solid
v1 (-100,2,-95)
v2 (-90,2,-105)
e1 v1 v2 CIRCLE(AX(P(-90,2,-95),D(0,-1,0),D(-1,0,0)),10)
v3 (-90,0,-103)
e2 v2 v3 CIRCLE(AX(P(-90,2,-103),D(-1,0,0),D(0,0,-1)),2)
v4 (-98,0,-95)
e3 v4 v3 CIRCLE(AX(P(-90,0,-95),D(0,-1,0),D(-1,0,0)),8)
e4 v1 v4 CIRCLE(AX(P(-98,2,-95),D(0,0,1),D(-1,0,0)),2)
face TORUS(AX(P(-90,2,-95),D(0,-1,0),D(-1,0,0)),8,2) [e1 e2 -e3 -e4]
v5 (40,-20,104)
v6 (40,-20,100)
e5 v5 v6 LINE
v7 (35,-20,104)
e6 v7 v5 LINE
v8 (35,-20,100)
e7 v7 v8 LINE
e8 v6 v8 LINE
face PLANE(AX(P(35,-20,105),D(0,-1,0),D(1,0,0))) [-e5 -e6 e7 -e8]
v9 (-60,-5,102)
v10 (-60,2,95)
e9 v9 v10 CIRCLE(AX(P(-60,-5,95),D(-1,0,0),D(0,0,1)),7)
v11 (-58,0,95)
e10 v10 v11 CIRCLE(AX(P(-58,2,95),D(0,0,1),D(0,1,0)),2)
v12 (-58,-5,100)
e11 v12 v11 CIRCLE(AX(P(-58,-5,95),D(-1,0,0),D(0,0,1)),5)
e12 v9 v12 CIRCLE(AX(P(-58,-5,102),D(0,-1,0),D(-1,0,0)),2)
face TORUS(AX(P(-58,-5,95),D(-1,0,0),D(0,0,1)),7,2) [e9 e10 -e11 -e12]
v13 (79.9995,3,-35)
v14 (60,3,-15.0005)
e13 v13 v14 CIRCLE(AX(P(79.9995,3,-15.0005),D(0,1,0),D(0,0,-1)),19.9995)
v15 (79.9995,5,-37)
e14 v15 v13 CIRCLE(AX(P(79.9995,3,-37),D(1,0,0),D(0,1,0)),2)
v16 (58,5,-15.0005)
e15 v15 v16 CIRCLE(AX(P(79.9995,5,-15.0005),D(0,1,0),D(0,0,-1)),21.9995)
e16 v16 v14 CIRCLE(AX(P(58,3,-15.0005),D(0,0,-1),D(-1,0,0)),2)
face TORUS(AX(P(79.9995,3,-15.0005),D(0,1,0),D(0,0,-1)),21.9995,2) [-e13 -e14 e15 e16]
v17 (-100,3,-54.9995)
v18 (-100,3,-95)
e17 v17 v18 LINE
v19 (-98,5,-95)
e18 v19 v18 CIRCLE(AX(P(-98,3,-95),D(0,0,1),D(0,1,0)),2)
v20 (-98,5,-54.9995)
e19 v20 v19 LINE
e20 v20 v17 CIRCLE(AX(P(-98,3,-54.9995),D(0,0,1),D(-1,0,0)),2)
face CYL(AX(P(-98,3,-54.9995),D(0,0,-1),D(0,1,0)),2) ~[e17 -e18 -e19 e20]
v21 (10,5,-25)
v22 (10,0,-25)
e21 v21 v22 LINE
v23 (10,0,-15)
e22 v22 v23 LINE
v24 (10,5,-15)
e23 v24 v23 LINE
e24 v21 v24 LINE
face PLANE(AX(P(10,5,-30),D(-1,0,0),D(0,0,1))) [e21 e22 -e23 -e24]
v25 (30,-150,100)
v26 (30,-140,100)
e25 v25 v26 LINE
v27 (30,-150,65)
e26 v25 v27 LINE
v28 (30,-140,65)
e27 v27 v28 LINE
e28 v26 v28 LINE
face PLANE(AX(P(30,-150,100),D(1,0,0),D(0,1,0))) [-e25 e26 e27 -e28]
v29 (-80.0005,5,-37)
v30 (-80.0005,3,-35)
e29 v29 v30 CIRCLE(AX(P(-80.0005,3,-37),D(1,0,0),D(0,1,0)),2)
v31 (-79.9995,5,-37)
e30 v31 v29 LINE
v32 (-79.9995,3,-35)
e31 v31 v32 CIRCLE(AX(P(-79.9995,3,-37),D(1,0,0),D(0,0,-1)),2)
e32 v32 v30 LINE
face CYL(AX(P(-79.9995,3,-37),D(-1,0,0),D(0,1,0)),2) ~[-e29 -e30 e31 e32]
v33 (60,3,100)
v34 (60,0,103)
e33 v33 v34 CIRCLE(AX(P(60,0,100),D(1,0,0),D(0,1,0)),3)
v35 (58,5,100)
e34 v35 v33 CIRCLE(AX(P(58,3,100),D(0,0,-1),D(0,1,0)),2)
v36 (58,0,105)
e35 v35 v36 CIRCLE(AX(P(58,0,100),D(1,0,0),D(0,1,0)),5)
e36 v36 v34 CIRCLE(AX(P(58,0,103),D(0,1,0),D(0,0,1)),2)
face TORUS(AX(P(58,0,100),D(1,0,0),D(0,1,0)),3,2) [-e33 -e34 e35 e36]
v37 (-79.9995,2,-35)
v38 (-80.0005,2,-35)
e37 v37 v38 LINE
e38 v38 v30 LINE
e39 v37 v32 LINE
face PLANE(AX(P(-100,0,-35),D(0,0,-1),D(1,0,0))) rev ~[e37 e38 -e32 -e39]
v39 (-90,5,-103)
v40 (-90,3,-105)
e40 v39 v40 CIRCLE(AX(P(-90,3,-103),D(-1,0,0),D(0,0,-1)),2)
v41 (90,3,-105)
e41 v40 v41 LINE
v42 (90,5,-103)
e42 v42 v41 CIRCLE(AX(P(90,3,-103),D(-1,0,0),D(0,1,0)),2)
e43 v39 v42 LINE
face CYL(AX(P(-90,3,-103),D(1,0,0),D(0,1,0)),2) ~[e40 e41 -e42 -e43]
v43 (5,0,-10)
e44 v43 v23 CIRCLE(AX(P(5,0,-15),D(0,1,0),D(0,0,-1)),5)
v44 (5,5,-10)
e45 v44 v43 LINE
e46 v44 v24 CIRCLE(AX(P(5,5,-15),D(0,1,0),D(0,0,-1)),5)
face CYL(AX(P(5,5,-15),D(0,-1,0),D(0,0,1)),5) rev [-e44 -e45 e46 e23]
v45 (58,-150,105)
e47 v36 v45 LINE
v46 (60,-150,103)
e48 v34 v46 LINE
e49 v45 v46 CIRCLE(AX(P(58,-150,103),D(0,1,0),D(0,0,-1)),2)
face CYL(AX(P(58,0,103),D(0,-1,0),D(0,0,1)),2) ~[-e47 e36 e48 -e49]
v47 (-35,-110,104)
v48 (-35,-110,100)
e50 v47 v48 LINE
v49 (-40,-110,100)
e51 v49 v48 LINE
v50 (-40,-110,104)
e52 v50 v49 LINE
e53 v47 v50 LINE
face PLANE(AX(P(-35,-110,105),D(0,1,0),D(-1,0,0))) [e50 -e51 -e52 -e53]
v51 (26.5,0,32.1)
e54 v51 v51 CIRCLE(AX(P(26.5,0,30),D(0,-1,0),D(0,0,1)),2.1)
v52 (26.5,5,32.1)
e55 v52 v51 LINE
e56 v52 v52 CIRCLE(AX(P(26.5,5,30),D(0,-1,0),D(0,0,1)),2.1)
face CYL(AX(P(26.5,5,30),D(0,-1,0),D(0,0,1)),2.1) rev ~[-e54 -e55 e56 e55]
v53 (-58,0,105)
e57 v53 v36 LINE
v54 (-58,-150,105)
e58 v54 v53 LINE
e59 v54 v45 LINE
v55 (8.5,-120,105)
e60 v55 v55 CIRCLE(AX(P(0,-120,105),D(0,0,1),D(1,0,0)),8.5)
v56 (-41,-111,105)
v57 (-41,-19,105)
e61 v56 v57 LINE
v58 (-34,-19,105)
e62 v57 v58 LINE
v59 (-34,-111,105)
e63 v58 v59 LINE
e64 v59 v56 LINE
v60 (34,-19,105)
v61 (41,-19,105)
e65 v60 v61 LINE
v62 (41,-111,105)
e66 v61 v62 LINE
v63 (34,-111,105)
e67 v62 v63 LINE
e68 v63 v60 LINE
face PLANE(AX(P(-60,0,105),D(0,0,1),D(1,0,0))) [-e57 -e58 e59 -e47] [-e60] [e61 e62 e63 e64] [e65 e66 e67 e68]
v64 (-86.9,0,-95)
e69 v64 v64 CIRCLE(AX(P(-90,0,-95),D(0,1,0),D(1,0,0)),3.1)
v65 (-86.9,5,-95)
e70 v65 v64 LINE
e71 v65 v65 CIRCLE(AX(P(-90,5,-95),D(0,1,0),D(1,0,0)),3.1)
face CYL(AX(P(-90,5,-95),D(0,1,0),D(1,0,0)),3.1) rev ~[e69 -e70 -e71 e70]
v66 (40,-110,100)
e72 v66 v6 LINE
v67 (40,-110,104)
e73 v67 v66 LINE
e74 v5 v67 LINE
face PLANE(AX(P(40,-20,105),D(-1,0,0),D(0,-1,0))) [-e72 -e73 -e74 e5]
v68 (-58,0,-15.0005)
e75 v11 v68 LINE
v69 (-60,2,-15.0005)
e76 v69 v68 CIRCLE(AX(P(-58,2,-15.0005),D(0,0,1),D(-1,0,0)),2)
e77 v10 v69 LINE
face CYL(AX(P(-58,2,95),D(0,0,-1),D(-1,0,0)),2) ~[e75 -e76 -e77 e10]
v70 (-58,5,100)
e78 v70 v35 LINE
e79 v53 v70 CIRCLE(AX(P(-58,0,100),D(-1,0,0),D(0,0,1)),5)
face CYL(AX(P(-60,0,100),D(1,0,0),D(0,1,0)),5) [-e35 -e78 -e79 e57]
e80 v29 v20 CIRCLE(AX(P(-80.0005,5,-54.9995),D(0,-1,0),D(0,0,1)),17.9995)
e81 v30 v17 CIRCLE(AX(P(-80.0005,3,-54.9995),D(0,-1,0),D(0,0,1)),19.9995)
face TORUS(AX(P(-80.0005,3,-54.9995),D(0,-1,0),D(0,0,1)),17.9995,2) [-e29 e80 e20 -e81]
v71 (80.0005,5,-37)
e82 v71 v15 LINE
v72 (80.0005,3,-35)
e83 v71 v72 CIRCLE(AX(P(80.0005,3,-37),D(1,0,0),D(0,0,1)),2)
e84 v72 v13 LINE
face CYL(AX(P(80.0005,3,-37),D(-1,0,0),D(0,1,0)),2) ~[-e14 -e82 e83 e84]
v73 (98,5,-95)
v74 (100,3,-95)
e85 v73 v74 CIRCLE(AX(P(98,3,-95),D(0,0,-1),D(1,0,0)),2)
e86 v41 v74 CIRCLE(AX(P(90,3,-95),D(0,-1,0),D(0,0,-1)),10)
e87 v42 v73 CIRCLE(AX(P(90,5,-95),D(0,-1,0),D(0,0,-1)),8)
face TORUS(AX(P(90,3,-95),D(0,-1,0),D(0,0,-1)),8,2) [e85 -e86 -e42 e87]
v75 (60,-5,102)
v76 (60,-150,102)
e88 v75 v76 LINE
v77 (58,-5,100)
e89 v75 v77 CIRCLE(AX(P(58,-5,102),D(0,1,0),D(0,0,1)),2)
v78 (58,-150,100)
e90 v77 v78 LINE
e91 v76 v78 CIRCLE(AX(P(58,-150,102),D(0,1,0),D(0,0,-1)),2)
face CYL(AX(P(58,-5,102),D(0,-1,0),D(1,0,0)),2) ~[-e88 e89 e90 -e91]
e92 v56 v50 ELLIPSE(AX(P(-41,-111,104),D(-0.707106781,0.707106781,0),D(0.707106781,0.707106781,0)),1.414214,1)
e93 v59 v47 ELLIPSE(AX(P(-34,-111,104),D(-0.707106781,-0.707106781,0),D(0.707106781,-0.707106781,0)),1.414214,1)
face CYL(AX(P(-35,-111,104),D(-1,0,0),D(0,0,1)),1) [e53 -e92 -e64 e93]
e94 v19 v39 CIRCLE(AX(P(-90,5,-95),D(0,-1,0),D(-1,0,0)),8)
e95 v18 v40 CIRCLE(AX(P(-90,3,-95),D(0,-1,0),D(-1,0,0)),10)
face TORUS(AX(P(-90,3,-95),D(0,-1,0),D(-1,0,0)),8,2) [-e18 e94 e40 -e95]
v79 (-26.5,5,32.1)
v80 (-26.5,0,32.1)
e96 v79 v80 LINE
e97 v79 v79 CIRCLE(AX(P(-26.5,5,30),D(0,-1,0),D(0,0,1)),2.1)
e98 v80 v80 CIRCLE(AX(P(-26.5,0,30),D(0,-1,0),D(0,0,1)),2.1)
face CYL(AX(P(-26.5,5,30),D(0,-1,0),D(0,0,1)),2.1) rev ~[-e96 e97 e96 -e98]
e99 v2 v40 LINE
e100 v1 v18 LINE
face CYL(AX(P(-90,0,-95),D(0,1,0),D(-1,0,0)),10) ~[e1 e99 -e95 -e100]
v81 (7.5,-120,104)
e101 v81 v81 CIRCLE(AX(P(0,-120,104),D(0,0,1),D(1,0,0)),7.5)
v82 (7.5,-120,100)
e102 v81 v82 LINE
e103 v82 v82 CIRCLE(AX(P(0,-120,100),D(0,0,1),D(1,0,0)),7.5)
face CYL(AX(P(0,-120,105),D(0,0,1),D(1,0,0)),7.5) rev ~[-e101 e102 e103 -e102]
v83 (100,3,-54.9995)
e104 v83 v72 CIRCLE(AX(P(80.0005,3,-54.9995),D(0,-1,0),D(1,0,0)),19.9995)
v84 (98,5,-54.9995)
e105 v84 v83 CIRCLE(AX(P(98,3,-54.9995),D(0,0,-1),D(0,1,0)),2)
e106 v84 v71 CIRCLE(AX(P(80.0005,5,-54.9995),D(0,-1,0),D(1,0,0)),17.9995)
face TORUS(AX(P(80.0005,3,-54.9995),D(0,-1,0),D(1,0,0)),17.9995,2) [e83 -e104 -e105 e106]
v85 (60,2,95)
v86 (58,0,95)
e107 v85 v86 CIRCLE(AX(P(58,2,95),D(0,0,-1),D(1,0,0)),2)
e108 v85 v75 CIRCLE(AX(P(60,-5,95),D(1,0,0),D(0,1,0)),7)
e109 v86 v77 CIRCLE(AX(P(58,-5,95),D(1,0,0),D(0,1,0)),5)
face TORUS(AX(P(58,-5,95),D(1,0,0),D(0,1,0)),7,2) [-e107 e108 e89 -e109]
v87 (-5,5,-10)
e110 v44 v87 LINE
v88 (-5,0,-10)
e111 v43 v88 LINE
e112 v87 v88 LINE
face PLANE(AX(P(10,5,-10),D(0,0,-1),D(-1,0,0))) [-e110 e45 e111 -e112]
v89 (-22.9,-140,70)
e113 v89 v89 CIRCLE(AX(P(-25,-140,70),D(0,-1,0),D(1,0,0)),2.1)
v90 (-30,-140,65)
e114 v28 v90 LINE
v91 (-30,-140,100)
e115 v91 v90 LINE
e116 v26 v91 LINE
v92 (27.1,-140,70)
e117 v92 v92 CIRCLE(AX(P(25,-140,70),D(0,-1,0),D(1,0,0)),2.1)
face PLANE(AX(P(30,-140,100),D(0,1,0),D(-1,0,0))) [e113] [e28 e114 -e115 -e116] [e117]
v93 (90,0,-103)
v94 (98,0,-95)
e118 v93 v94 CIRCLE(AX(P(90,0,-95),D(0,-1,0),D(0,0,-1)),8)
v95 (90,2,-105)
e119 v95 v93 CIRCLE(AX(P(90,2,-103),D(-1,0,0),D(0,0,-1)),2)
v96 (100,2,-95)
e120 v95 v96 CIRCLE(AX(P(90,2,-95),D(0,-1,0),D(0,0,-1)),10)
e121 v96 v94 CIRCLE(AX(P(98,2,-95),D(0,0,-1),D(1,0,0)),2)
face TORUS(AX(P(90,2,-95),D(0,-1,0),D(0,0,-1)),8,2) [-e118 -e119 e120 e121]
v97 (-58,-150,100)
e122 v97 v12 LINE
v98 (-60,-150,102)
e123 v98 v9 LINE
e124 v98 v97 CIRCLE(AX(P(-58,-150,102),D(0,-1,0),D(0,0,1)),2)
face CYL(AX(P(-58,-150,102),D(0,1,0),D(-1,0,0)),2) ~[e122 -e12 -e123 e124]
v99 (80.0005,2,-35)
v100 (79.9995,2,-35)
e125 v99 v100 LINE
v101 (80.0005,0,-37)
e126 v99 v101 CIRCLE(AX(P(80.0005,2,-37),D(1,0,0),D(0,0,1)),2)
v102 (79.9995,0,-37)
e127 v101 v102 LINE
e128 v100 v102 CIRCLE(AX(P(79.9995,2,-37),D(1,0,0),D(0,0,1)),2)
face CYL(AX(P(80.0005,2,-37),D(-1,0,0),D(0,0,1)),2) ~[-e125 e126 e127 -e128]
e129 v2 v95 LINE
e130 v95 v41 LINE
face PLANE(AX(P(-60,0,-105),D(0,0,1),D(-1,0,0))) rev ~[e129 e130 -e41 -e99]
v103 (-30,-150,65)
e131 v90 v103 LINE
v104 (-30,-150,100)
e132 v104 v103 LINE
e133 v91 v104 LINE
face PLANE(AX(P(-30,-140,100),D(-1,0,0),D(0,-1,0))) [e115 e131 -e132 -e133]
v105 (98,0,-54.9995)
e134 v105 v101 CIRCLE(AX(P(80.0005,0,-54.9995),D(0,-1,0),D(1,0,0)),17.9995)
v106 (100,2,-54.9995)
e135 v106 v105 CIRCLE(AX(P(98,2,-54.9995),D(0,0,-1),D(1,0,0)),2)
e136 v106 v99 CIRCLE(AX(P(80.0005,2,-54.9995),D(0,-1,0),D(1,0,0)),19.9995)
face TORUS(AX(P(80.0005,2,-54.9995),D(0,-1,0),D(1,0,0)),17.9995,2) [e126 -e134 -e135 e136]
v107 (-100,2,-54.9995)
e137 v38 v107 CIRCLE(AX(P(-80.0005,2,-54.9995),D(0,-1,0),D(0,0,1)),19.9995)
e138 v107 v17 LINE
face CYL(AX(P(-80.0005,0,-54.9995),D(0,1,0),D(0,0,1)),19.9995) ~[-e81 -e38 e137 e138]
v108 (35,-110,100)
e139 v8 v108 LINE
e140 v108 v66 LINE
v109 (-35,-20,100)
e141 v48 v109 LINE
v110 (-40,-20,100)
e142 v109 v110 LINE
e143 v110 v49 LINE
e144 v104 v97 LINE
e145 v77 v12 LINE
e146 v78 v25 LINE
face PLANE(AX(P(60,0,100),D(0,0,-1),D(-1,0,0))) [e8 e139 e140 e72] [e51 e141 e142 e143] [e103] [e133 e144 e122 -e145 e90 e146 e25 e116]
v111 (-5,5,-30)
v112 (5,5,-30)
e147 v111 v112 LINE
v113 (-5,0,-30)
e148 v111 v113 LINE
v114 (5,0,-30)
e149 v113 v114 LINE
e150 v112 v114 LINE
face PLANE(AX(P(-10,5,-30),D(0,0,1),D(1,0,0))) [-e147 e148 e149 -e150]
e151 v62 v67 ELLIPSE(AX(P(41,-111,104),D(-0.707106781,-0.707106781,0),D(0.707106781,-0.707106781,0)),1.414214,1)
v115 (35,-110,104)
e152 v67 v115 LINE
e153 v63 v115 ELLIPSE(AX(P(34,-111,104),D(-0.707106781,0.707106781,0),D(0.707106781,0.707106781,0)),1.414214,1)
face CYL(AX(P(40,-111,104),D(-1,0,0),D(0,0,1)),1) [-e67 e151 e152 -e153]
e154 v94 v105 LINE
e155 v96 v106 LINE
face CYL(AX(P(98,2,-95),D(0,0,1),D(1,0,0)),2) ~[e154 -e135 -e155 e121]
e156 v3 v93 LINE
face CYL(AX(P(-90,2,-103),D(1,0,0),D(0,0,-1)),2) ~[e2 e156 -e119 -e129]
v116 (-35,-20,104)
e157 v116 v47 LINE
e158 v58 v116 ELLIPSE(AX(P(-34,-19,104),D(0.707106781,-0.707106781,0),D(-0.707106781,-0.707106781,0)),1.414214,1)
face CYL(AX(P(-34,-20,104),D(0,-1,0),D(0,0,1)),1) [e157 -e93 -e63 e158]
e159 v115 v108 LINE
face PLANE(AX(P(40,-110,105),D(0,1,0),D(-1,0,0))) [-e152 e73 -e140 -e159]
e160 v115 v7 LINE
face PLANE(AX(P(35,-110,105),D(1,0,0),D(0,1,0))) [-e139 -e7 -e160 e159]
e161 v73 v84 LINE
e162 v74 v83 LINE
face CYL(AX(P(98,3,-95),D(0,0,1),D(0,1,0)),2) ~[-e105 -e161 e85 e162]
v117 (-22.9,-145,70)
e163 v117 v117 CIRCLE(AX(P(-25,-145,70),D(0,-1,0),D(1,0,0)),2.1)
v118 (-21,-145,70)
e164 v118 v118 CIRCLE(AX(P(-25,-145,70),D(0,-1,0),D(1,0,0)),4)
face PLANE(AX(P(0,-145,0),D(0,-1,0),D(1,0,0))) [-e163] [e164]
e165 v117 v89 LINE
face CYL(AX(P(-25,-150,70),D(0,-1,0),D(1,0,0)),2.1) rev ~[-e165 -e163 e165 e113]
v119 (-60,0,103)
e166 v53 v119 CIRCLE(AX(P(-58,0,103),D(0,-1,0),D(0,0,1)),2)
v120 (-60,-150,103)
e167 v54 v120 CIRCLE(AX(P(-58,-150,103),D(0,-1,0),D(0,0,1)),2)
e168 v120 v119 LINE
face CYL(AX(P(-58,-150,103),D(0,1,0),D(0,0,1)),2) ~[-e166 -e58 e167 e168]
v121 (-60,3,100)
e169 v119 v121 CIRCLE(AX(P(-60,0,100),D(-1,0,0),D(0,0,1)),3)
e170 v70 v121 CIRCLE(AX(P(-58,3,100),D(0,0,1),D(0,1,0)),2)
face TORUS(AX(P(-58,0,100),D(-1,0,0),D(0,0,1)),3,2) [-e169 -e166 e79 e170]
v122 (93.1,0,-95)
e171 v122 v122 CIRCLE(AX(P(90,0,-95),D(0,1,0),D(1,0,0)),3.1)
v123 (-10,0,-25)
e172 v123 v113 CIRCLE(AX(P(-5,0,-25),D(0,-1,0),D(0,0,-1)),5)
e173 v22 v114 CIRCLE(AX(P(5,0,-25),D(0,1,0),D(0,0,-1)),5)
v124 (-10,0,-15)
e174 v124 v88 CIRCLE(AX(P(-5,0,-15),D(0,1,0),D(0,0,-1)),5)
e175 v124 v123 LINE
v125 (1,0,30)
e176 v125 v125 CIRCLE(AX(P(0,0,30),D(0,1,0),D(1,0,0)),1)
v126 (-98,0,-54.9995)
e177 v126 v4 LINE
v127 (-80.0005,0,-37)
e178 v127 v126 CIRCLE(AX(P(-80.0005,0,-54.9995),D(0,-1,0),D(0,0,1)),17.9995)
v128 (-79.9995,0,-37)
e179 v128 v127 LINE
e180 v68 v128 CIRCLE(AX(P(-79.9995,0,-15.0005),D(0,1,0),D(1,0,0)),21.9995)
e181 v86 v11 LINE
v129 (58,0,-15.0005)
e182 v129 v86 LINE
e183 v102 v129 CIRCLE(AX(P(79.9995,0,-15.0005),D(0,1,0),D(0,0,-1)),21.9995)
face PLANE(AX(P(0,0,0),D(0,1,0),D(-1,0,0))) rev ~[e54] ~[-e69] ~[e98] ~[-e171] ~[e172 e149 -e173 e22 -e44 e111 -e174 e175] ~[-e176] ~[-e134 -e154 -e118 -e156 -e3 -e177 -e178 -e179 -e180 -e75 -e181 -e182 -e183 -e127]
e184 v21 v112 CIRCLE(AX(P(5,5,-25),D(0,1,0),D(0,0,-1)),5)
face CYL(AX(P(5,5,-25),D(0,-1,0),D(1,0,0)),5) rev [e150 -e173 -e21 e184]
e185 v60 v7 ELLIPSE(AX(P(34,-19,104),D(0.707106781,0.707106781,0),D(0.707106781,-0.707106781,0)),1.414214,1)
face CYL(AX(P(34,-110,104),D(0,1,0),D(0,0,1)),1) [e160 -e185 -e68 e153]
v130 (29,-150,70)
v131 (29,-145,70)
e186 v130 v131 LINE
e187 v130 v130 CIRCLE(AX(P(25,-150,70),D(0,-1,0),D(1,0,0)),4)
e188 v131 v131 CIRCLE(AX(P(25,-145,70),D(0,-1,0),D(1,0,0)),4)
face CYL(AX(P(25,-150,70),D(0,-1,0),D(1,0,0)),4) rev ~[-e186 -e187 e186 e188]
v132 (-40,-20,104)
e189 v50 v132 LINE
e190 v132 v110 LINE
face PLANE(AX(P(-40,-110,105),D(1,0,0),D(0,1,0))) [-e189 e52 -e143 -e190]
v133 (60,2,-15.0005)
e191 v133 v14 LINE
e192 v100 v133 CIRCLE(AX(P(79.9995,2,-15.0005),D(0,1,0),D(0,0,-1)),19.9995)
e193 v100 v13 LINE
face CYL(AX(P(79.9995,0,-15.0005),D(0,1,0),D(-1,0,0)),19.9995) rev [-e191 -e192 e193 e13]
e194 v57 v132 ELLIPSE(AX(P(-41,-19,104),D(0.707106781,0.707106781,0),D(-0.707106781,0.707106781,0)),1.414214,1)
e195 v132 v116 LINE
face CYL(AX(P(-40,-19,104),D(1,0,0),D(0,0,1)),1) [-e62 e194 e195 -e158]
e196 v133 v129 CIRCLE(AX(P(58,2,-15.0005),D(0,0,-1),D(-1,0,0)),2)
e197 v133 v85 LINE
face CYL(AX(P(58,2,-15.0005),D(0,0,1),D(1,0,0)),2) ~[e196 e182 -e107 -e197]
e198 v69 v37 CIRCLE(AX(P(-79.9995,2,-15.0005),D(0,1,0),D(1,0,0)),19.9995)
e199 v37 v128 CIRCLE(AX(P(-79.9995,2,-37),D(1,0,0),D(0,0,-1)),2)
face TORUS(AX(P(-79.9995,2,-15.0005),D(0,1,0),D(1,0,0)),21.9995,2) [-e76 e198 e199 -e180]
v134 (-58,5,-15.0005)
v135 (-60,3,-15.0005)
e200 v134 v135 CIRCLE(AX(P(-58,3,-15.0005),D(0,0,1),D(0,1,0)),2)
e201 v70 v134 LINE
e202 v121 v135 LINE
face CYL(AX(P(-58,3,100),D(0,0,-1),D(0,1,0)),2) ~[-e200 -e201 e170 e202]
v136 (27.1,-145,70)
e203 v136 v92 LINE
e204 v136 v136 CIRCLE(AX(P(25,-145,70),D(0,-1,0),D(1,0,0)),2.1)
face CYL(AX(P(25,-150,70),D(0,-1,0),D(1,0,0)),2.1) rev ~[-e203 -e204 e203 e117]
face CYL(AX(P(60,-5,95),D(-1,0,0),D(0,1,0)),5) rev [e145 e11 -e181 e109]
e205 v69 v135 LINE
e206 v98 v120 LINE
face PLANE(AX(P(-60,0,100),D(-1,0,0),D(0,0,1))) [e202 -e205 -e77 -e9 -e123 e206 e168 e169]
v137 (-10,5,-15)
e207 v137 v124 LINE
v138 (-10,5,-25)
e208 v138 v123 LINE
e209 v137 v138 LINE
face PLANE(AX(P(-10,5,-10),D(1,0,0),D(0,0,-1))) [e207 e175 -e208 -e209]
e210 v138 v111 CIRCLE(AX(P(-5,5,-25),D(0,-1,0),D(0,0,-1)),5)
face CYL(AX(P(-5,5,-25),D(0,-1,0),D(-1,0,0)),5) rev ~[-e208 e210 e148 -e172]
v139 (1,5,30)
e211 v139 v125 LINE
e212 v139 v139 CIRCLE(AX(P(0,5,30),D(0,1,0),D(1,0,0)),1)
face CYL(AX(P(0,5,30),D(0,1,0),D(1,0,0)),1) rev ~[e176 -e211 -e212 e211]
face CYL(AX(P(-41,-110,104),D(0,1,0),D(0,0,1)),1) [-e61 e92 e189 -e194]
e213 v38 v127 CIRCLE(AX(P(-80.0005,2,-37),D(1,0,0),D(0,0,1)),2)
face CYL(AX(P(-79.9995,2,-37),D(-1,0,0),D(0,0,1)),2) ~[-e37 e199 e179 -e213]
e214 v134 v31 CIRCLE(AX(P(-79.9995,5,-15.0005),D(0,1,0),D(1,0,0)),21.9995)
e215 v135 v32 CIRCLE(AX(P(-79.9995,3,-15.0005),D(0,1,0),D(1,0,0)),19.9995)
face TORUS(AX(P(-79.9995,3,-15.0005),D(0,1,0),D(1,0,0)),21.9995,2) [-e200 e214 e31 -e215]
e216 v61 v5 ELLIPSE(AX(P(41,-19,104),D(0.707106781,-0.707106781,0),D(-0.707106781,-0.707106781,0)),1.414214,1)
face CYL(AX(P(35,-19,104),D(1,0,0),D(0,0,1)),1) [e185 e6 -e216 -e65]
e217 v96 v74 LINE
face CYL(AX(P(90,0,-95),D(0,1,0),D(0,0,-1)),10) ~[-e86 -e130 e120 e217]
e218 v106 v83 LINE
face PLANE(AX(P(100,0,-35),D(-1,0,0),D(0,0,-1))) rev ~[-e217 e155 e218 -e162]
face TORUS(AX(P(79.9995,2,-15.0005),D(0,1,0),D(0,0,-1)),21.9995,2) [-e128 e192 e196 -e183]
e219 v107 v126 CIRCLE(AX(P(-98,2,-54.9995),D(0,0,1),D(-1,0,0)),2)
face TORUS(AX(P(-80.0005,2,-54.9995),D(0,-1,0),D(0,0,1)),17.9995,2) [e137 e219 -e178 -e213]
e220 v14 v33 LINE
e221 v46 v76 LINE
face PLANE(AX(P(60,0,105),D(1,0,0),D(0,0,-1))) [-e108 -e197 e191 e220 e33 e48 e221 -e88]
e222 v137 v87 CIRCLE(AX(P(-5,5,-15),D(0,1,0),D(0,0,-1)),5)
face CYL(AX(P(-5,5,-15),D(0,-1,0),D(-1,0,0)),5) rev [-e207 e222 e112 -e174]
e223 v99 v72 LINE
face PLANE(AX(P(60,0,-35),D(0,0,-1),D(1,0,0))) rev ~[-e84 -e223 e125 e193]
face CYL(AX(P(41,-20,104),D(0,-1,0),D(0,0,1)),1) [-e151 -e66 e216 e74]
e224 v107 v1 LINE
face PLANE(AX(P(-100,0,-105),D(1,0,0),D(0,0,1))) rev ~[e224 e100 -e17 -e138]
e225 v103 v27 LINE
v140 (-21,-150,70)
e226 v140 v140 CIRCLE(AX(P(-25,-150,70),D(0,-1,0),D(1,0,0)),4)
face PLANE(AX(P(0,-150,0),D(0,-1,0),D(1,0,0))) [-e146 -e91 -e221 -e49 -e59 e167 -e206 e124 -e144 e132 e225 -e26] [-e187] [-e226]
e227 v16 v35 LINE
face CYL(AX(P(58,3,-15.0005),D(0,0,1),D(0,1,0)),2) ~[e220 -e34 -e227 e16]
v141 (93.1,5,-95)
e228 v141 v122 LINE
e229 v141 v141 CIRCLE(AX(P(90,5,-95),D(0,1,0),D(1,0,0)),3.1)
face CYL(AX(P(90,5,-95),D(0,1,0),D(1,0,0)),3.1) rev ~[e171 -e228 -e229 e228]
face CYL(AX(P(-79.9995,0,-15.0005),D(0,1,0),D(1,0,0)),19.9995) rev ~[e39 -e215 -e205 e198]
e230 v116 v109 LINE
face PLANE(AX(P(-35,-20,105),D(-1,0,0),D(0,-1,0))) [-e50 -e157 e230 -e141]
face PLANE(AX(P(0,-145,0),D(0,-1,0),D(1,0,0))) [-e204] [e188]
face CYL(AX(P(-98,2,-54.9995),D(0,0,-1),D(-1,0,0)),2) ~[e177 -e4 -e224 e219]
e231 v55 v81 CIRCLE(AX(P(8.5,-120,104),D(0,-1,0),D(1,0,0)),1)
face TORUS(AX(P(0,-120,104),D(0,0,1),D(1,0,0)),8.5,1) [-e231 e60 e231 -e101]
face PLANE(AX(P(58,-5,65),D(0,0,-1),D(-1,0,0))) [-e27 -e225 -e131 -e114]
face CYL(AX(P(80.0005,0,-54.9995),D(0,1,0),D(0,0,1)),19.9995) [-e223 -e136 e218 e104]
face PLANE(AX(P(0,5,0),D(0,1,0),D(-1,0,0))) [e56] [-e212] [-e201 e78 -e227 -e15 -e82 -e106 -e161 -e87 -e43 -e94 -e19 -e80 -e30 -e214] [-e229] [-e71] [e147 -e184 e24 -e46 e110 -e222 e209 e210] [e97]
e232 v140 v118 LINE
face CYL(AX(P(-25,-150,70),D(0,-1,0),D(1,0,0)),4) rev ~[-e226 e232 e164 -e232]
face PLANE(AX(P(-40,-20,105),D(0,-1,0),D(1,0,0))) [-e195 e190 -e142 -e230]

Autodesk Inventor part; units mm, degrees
ref_plane "YZ Plane" through (0, 0, 0) normal (1, 0, 0) x (0, 1, 0)
ref_plane "XZ Plane" through (0, 0, 0) normal (0, 1, 0) x (-1, 0, 0)
ref_plane "XY Plane" through (0, 0, 0) normal (0, 0, 1) x (1, 0, 0)
sketch "Sketch1" plane through (0, 0, 0) normal (0, 1, 0) x (-1, 0, 0)
  line L0 (60, 105) -> (-60, 105)
  line L1 (-60, 105) -> (-60, -105)
  line L2 (-60, -105) -> (60, -105)
  line L3 (60, -105) -> (60, 105)
  line L4 (60, 105) -> (-60, -105) construction
  line L5 (-60, 105) -> (60, -105) construction
  line L6 (100, -35) -> (-100, -35)
  line L7 (-100, -35) -> (-100, -105)
  line L8 (-100, -105) -> (100, -105)
  line L9 (100, -105) -> (100, -35)
  line L10 (100, -35) -> (-100, -105) construction
  line L11 (-100, -35) -> (100, -105) construction
  point P0 (0, 0)
  point P1 (0, -70)
  point P2 (-60, -35)
  point P3 (60, -35)
  dimension "d0" = 120
  dimension "d1" = 210
  dimension "d2" = 70
  dimension "d3" = 200
extrude "Extrusion1" add sketch "Sketch1" along normal blind 5
sketch "Sketch2" plane through (0, 5, 0) normal (0, 1, 0) x (1, 0, 0)
  circle A0 centre (-90, 95) radius 3.1
  circle A1 centre (90, 95) radius 3.1
  line L0 (100, 105) -> (-100, 105) projected
  line L1 (-100, 105) -> (-100, 35) projected
  line L2 (100, 35) -> (100, 105) projected
  point P0 (0, 0)
  dimension "d6" = 6.2
  dimension "d7" = 6.2
  dimension "d8" = 10
  dimension "d9" = 10
  dimension "d10" = 10
extrude "Extrusion2" cut sketch "Sketch2" against normal blind 5
sketch "Sketch3" plane through (0, 0, 0) normal (0, -1, 0) x (1, 0, 0)
  line L0 (-60, 105) -> (60, 105)
  line L1 (60, 105) -> (60, 100)
  line L2 (60, 100) -> (-60, 100)
  line L3 (-60, 100) -> (-60, 105)
  line L4 (-60, 105) -> (60, 100) construction
  line L5 (60, 105) -> (-60, 100) construction
  line L6 (60, 105) -> (60, -35) projected
  line L7 (-60, -35) -> (-60, 105) projected
  line L8 (-60, 105) -> (60, 105) projected
  point P0 (0, 0)
  point P1 (0, 102.5)
  dimension "d13" = 5
extrude "Extrusion3" add sketch "Sketch3" along normal blind 150
fillet "Fillet1" radius 20 4 edges at (-60, 2.5, -35) (60, 2.5, -35) (100, 2.5, -35) (-100, 2.5, -35)
fillet "Fillet2" radius 10 2 edges at (100, 2.5, -105) (-100, 2.5, -105)
fillet "Fillet3" radius 5 2 edges at (0, 0, 100) (0, 5, 105)
fillet "Fillet4" radius 2 30 edges at (60, 3.5355, 103.5355) (60, 5, 42.4997) (80, 5, -35) (94.1423, 5, -40.8577) (100, 5, -74.9998) (97.0711, 5, -102.0711) (0, 5, -105) (-97.0711, 5, -102.0711) (-100, 5, -74.9997) (-94.1423, 5, -40.8577) (-80, 5, -35) (-60, 5, 42.4998) (-60, 3.5355, 103.5355) (-60, -75, 105) (60, -75, 105) (60, -1.4645, 98.5355) (60, 0, 39.9998) (80, 0, -35) (94.1423, 0, -40.8577) (100, 0, -74.9998) (97.0711, 0, -102.0711) (0, 0, -105) (-97.0711, 0, -102.0711) (-100, 0, -74.9997) (-94.1423, 0, -40.8577) (-80, 0, -35) (-60, 0, 39.9998) (-60, -1.4645, 98.5355) (-60, -77.5, 100) (60, -77.5, 100)
sketch "Sketch4" plane through (0, 5, 0) normal (0, 1, 0) x (1, 0, 0)
  point P0 (0, 0)
  point P1 (-26.5, -30)
  point P2 (26.5, -30)
  dimension "d20" = 26.5
  dimension "d21" = 30
  dimension "d23" = 26.5
hole "Hole1" at (-26.5, 5, 30) at (26.5, 5, 30) direction (0, -1, 0) diameter 4.2 end through all
sketch "Sketch6" plane through (0, 5, 0) normal (0, 1, 0) x (1, 0, 0)
  line L0 (-10, 30) -> (10, 30)
  line L1 (10, 30) -> (10, 10)
  line L2 (10, 10) -> (-10, 10)
  line L3 (-10, 10) -> (-10, 30)
  line L4 (-10, 30) -> (10, 10) construction
  line L5 (10, 30) -> (-10, 10) construction
  point P0 (0, 0)
  point P1 (0, 20)
  dimension "d37" = 20
  dimension "d38" = 20
  dimension "d39" = 20
extrude "Extrusion5" cut sketch "Sketch6" against normal blind 150
fillet "Fillet5" radius 5 4 edges at (-10, 2.5, -30) (10, 2.5, -30) (-10, 2.5, -10) (10, 2.5, -10)
sketch "Sketch7" plane through (-58, 0, 105) normal (0, 0, 1) x (1, 0, 0)
  line L0 (18, -20) -> (23, -20)
  line L1 (23, -20) -> (23, -110)
  line L2 (23, -110) -> (18, -110)
  line L3 (18, -110) -> (18, -20)
  line L4 (93, -20) -> (98, -20)
  line L5 (98, -20) -> (98, -110)
  line L6 (98, -110) -> (93, -110)
  line L7 (93, -110) -> (93, -20)
  line L8 (-2, 0) -> (-2, -150) projected
  line L9 (118, -150) -> (118, 0) projected
  line L10 (116, -150) -> (0, -150) projected
  point P0 (58, 0)
  dimension "d43" = 5
  dimension "d44" = 5
  dimension "d45" = 90
  dimension "d46" = 20
  dimension "d47" = 20
  dimension "d48" = 40
extrude "Extrusion6" cut sketch "Sketch7" against normal blind 10
fillet "Fillet6" radius 1 8 edges at (40, -65, 105) (37.5, -20, 105) (35, -65, 105) (37.5, -110, 105) (-35, -65, 105) (-40, -65, 105) (-37.5, -110, 105) (-37.5, -20, 105)
sketch "Sketch8" plane through (-58, 0, 105) normal (0, 0, 1) x (1, 0, 0)
  circle A0 centre (58, -120) radius 7.5
  line L0 (116, -150) -> (0, -150) projected
  point P0 (58, 0)
  dimension "d52" = 15
  dimension "d53" = 30
extrude "Extrusion7" cut sketch "Sketch8" against normal blind 10
sketch "Sketch11" plane through (58, -5, 100) normal (0, 0, -1) x (-1, 0, 0)
  line L0 (28, -135) -> (88, -135)
  line L1 (88, -135) -> (88, -145)
  line L2 (88, -145) -> (28, -145)
  line L3 (28, -145) -> (28, -135)
  line L4 (116, -145) -> (0, -145) projected
  point P0 (58, 5)
  point P1 (118, -145)
  dimension "d68" = 10
  dimension "d69" = 60
  dimension "d70" = 30
extrude "Extrusion9" add sketch "Sketch11" along normal blind 35
sketch "Sketch12" plane through (0, -150, 0) normal (0, -1, 0) x (1, 0, 0)
  circle A0 centre (-25, 70) radius 2.1
  circle A1 centre (25, 70) radius 2.1
  line L0 (30, 65) -> (-30, 65) projected
  line L1 (30, 100) -> (30, 65) projected
  line L2 (-30, 100) -> (-30, 65) projected
  point P0 (0, 0)
  dimension "d73" = 4.2
  dimension "d74" = 4.2
  dimension "d75" = 5
  dimension "d76" = 5
  dimension "d77" = 5
  dimension "d78" = 5
fillet "Fillet7" radius 1 1 edges at (-7.5, -120, 105)
extrude "Extrusion10" cut sketch "Sketch12" against normal blind 35
sketch "Sketch13" plane through (0, -150, 0) normal (0, -1, 0) x (1, 0, 0)
  circle A0 centre (25, 70) radius 2.1 projected
  circle A1 centre (-25, 70) radius 2.1 projected
  arc A2 (-60, 102) -> (-58, 100) centre (-58, 102) ccw projected
  line L0 (-58, 100) -> (-30, 100) projected
  line L1 (-30, 100) -> (-30, 65) projected
  line L2 (30, 65) -> (-30, 65) projected
  line L3 (30, 100) -> (30, 65) projected
  line L4 (30, 100) -> (58, 100) projected
  arc A3 (58, 100) -> (60, 102) centre (58, 102) ccw projected
  line L5 (60, 102) -> (60, 103) projected
  arc A4 (60, 103) -> (58, 105) centre (58, 103) ccw projected
  line L6 (58, 105) -> (-58, 105) projected
  arc A5 (-58, 105) -> (-60, 103) centre (-58, 103) ccw projected
  line L7 (-60, 103) -> (-60, 102) projected
  circle A6 centre (-25, 70) radius 4
  circle A7 centre (25, 70) radius 4
  point P0 (0, 0)
  dimension "d82" = 8
  dimension "d83" = 8
extrude "Extrusion11" cut sketch "Sketch13" against normal blind 5 contours A6 | A7
sketch "Sketch14" plane through (0, 5, 0) normal (0, 1, 0) x (1, 0, 0)
  circle A0 centre (0, -30) radius 1
  circle A1 centre (-26.5, -30) radius 2.1 projected
  point P0 (0, 0)
  dimension "d86" = 2
extrude "Extrusion12" cut sketch "Sketch14" against normal blind 10 contours A0
properties part number "gripper_case_front" material "ABS Plastic"
